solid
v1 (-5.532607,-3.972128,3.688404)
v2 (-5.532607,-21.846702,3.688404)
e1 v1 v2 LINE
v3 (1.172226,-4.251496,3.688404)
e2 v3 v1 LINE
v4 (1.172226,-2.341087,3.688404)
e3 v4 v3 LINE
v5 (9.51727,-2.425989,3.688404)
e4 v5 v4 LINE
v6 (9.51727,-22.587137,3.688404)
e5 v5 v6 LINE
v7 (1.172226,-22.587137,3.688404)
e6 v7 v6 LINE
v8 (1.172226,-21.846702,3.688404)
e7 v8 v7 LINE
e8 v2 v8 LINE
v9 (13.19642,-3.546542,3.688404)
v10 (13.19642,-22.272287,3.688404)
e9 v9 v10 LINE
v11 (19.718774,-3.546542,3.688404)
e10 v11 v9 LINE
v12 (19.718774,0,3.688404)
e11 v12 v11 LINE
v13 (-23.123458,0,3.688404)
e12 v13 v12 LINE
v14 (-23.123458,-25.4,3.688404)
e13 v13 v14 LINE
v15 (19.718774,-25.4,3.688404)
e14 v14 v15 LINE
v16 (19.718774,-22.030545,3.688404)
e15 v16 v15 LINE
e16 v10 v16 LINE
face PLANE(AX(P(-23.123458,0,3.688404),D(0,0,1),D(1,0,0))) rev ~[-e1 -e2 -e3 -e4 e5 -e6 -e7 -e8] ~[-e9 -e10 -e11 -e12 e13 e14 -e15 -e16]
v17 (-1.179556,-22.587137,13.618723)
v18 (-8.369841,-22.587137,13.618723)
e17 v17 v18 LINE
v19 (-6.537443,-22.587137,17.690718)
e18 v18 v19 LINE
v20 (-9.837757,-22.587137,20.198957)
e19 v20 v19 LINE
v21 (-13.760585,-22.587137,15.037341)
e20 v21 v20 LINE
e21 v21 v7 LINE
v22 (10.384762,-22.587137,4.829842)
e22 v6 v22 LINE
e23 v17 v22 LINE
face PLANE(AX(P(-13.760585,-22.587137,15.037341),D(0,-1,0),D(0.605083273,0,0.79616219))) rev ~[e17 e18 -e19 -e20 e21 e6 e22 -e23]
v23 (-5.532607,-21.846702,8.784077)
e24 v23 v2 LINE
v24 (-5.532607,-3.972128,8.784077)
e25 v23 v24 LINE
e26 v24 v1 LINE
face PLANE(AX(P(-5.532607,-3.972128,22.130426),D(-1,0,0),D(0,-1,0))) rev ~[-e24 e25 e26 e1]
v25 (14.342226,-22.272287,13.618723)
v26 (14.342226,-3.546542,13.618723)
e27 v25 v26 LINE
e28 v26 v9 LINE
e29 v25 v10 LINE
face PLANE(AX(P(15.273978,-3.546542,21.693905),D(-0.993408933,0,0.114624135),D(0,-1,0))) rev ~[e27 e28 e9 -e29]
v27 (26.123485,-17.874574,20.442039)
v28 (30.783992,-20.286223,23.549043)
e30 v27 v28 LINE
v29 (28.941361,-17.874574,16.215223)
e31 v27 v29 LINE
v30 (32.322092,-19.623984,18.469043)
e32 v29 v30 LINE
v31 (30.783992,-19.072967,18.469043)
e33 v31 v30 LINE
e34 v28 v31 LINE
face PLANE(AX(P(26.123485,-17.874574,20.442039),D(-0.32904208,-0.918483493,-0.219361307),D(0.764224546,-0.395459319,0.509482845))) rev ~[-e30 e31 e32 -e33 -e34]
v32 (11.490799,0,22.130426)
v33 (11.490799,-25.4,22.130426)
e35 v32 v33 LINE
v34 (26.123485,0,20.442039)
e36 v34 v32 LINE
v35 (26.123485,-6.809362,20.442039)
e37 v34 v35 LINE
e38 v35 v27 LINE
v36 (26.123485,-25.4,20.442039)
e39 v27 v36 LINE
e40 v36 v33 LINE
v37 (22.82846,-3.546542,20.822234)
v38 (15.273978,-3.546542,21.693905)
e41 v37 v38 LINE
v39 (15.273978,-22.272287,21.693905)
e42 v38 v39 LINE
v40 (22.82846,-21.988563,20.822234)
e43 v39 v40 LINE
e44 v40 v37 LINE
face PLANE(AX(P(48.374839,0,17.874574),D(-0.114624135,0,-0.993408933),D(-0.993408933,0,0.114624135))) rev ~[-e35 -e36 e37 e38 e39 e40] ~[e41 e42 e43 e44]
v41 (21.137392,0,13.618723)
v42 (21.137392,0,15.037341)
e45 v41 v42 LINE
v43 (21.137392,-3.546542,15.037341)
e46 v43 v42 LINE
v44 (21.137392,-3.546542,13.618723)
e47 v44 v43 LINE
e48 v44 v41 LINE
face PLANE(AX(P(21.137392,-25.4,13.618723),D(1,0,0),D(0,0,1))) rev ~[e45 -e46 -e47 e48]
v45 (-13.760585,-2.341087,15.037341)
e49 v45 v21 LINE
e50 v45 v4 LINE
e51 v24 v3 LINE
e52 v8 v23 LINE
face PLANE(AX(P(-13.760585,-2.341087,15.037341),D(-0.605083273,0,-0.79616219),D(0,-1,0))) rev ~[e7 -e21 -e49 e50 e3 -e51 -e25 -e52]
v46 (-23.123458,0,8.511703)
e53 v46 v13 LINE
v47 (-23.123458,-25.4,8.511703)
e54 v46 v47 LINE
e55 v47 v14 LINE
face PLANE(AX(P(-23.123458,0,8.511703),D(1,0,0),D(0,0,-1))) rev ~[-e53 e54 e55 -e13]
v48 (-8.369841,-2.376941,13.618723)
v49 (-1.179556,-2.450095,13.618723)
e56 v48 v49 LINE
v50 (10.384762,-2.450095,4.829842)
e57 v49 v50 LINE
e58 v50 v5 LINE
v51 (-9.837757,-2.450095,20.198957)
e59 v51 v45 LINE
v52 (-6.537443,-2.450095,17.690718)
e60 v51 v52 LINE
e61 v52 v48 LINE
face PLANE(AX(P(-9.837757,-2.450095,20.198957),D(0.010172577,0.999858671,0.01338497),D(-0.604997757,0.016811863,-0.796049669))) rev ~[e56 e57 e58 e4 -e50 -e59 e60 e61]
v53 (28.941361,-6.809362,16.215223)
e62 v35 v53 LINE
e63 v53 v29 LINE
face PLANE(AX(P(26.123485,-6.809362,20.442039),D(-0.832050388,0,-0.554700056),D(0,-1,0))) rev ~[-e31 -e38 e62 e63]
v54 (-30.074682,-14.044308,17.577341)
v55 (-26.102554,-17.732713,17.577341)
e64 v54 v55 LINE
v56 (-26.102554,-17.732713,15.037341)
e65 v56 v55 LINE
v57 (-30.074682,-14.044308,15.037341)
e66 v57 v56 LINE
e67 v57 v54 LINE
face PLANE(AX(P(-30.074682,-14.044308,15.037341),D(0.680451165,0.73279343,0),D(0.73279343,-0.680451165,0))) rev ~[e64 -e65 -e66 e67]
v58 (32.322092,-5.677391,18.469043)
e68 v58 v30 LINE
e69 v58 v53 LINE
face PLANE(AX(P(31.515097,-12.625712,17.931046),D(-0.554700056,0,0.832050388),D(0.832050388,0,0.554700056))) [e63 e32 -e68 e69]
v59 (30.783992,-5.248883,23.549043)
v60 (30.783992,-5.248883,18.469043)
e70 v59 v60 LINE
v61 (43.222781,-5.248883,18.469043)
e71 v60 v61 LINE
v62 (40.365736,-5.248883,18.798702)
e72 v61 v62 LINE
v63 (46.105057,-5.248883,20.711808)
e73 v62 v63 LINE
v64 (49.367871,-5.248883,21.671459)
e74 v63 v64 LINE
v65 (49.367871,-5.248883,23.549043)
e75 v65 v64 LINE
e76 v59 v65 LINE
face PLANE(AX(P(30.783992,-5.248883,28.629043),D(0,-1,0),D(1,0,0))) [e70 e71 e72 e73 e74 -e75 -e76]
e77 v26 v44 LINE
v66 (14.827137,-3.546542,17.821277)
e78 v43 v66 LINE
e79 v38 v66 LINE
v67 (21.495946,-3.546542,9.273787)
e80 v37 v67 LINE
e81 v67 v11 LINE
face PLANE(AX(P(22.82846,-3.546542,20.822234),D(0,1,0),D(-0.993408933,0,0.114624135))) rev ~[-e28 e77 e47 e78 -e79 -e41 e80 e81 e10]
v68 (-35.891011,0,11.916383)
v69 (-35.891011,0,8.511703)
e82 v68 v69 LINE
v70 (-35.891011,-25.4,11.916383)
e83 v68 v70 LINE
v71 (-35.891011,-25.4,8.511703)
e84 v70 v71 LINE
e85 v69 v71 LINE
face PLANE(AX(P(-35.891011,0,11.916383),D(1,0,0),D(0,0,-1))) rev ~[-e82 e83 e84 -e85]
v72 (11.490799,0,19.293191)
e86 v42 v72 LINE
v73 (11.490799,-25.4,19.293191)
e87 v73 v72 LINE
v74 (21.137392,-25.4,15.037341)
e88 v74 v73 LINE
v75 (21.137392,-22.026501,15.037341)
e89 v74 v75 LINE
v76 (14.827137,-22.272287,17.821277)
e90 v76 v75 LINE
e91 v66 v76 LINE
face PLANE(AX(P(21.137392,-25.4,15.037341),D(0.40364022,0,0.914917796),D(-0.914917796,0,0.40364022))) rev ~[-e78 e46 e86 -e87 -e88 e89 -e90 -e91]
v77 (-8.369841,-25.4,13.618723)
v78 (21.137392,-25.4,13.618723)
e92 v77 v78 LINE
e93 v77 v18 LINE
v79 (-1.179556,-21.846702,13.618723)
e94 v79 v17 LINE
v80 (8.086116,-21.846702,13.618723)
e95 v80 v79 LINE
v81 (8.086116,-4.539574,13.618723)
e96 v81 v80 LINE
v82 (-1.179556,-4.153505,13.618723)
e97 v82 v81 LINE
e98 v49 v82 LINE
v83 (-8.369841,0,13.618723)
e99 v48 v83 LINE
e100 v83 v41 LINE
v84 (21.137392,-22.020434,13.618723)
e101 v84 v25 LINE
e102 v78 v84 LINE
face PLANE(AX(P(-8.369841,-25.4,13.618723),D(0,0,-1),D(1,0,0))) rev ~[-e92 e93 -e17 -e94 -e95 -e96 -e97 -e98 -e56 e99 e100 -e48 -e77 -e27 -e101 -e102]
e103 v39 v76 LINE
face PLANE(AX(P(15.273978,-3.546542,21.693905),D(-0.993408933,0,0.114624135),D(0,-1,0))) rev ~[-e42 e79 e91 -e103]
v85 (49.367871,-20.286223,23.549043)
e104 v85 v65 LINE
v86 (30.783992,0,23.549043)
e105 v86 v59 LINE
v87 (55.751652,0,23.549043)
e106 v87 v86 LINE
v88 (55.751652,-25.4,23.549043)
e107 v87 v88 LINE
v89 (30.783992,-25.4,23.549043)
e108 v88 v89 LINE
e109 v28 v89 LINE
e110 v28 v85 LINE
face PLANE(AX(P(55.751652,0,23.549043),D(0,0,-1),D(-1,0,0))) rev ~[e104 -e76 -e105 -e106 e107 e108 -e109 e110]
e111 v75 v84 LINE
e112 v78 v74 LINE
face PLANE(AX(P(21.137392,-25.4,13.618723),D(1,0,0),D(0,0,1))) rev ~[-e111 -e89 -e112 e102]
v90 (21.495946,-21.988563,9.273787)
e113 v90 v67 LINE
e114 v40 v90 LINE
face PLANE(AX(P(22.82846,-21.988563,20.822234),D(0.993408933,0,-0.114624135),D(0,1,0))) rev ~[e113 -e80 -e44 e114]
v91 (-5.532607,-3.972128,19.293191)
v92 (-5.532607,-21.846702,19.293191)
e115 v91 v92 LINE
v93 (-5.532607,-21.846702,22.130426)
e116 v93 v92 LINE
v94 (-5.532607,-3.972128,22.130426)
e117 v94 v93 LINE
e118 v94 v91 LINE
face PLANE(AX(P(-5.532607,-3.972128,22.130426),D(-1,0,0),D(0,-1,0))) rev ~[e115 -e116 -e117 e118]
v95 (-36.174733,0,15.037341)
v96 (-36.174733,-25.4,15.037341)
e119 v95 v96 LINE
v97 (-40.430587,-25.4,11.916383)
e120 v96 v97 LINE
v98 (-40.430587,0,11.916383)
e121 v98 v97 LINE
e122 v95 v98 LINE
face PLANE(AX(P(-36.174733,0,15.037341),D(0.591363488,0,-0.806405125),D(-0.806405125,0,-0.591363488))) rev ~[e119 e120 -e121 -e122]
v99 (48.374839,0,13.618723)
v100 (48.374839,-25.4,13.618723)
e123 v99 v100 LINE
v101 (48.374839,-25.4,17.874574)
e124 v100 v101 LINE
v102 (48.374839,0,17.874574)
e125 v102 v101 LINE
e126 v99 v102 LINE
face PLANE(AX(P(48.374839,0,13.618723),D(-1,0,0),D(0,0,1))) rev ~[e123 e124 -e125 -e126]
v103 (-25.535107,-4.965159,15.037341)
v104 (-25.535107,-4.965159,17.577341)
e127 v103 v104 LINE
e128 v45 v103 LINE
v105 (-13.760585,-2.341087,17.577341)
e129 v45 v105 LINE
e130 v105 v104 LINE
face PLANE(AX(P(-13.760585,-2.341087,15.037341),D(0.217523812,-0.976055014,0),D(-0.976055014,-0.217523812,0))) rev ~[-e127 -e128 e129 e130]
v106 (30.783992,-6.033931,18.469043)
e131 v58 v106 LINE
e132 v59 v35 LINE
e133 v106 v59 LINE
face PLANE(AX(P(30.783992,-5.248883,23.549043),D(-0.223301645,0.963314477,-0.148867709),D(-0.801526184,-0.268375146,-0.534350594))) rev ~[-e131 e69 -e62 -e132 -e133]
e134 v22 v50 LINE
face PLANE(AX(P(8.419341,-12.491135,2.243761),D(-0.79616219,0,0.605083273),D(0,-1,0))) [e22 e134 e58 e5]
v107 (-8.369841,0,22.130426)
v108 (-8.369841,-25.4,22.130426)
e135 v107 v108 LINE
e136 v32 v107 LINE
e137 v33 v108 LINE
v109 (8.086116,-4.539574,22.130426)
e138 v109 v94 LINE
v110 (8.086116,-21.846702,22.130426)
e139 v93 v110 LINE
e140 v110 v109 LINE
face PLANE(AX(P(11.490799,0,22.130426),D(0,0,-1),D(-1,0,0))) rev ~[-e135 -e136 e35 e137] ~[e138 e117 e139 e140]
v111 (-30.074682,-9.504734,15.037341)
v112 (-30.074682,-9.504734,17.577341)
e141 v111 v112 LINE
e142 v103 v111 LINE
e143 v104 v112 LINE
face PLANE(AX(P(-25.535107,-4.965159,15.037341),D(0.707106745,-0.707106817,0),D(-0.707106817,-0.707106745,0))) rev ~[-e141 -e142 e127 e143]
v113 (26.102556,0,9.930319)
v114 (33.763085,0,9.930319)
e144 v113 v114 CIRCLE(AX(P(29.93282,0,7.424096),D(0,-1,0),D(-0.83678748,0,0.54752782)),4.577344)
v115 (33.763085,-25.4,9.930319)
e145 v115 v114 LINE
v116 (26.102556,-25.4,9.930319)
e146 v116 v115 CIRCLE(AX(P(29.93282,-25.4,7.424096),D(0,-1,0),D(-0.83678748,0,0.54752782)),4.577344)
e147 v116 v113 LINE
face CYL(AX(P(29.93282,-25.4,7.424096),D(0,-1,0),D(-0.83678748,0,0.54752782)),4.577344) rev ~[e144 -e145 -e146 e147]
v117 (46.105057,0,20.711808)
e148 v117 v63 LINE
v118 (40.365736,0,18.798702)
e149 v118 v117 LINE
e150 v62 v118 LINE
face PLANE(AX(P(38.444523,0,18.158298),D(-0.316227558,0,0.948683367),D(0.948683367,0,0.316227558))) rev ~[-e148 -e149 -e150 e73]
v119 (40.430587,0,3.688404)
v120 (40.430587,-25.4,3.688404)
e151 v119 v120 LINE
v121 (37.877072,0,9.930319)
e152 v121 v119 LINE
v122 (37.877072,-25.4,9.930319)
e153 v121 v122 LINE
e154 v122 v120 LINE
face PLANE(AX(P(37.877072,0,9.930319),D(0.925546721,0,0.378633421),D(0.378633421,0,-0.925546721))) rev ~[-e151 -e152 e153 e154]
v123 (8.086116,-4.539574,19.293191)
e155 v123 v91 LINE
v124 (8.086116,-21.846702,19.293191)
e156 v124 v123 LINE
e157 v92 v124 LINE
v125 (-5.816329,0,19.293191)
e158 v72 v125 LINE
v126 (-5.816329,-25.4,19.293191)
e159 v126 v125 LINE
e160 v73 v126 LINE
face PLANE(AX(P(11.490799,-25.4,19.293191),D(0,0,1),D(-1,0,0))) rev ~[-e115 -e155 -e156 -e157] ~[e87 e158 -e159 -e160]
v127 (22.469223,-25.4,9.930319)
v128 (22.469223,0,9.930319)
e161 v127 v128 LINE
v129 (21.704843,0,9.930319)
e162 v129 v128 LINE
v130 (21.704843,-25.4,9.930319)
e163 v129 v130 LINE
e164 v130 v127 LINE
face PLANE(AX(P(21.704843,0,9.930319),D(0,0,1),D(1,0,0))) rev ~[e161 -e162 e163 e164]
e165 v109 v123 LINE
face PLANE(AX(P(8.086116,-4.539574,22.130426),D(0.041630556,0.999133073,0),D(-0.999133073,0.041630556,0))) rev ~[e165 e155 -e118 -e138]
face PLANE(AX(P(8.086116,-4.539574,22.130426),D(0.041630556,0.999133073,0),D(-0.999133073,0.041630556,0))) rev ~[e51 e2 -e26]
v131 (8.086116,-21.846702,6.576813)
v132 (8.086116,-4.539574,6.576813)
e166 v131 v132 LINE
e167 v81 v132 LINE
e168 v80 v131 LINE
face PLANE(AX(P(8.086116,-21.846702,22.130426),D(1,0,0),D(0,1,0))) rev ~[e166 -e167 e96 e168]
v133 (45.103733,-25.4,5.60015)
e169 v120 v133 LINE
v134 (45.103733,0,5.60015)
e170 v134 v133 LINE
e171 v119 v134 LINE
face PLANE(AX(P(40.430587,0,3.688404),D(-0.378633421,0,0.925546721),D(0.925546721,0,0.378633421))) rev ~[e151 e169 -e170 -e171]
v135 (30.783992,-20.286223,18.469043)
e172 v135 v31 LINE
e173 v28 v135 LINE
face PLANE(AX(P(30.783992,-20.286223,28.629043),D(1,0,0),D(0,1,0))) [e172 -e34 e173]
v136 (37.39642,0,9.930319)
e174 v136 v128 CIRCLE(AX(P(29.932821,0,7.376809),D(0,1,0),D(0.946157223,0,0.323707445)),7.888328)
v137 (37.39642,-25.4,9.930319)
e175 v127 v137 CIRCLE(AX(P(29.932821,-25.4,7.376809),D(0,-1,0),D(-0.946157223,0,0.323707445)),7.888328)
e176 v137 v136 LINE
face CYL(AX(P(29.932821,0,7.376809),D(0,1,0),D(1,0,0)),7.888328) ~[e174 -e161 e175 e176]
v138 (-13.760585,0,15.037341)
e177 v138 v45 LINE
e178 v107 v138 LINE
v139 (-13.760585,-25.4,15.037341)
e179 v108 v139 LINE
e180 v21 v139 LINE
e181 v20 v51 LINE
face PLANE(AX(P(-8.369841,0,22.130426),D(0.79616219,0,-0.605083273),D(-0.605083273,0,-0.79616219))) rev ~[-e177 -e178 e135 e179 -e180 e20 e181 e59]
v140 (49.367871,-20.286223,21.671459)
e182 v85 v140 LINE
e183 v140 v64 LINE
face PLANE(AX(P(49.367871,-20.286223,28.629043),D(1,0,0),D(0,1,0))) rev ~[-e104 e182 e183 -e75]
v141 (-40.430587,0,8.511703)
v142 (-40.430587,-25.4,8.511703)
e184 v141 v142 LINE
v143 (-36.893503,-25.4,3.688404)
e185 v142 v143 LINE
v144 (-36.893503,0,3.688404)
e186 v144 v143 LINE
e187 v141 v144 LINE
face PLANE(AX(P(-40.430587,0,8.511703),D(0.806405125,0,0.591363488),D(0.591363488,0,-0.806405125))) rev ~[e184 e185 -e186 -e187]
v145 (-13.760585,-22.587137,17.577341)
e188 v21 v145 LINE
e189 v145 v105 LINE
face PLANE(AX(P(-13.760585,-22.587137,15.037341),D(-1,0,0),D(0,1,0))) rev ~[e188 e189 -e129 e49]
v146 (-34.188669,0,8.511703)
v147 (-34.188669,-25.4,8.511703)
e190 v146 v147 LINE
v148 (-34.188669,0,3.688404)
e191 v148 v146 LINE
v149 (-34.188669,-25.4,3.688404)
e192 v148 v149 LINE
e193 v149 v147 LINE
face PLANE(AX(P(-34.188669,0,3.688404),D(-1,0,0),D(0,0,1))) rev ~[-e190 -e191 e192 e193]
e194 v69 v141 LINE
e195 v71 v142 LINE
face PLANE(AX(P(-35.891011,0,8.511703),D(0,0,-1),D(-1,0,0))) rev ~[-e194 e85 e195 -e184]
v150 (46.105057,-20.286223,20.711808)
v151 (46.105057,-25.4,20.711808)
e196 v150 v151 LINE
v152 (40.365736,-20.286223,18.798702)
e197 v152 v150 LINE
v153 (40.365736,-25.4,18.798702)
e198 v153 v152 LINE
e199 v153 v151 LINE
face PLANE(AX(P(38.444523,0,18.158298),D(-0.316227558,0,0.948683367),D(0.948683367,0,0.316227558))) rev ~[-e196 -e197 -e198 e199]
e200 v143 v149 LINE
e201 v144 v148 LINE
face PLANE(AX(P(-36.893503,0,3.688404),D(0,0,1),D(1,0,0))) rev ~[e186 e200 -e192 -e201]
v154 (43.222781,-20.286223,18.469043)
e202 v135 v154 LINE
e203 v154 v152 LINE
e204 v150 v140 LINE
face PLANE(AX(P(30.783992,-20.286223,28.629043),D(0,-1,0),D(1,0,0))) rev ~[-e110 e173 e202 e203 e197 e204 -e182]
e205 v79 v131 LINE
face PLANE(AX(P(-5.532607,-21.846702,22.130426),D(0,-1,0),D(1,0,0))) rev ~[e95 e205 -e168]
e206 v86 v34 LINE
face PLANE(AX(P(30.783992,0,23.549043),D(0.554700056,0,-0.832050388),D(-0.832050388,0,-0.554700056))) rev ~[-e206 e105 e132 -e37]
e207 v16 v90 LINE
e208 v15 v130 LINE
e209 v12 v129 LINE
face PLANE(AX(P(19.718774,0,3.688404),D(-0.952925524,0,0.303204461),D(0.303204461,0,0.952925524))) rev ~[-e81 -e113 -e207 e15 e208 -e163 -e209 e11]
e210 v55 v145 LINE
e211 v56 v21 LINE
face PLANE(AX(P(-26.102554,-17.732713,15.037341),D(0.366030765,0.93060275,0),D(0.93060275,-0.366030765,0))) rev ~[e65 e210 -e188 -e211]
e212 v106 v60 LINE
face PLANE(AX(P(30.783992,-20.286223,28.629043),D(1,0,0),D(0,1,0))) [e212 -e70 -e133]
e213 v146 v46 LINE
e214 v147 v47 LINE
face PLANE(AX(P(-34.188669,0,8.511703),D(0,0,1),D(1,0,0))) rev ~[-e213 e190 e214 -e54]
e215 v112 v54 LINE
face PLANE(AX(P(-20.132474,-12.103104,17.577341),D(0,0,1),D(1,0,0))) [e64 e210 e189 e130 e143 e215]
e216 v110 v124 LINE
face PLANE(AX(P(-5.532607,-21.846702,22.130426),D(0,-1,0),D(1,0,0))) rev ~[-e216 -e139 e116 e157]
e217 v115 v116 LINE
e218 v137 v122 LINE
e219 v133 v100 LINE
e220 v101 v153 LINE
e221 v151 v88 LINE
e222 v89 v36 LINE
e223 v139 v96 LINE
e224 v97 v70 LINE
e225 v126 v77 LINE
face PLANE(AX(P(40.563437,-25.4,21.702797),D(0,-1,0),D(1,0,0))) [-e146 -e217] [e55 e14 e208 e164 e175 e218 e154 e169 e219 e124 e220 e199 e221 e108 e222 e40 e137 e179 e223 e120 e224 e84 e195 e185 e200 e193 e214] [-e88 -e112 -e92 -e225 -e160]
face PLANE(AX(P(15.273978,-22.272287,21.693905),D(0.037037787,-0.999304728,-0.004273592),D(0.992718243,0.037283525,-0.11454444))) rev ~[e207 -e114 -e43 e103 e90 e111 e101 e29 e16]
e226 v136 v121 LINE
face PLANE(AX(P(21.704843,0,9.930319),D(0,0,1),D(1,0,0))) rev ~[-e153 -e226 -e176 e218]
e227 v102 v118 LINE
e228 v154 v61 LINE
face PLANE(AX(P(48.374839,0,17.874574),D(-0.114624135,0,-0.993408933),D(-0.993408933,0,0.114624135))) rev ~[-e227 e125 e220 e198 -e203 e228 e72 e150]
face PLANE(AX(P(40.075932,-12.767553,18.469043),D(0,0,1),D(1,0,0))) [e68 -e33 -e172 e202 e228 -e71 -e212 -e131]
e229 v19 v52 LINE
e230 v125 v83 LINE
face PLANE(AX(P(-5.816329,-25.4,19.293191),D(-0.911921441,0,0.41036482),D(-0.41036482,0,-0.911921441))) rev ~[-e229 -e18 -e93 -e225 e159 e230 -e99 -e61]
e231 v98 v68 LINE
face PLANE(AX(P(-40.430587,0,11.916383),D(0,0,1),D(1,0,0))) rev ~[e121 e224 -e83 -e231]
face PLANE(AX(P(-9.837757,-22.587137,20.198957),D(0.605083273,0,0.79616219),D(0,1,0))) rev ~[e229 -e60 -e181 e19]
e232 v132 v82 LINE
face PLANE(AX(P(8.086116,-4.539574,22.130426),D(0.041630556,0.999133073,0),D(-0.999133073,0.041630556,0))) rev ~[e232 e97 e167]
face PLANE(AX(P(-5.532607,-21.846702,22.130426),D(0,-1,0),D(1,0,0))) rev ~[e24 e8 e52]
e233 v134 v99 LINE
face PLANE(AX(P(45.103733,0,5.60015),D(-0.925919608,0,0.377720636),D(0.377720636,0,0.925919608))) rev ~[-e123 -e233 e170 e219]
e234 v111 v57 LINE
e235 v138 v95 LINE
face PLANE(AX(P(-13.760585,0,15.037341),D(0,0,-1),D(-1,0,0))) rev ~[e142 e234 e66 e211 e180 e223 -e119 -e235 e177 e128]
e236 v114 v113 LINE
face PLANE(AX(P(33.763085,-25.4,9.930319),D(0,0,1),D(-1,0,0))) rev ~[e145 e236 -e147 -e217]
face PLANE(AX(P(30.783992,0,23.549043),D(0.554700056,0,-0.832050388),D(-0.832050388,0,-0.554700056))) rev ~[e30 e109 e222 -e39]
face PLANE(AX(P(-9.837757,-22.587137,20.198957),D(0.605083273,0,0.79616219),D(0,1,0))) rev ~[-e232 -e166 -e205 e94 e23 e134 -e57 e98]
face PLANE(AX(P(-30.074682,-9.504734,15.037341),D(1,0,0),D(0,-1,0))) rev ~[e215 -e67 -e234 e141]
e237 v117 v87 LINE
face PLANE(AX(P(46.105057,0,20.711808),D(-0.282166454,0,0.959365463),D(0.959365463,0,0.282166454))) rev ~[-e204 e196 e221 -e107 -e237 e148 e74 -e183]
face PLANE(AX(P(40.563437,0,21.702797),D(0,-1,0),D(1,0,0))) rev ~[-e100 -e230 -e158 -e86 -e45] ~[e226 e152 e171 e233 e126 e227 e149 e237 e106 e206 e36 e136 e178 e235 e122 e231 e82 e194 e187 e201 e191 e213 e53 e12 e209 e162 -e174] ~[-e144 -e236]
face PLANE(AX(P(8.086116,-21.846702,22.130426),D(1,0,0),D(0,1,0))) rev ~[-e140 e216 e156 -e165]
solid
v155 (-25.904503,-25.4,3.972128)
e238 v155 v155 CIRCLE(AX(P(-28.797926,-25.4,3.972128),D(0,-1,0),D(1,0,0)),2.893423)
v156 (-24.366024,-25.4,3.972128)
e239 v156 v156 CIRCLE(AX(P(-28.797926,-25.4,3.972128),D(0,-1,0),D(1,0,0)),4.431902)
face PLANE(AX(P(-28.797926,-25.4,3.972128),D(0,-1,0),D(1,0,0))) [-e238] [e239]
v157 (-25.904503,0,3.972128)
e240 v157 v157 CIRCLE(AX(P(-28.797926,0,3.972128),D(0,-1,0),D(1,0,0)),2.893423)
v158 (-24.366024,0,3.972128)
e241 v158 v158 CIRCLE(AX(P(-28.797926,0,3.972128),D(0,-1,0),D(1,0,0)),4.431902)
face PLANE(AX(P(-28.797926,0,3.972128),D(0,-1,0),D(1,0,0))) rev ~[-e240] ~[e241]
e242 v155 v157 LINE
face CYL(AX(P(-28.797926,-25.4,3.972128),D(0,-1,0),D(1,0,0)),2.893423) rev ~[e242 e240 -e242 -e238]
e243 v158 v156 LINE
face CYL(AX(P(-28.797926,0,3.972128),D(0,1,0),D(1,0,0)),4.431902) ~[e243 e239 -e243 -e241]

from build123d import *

# Parameters (mm, degrees)
F0_R      = 4.4319021296
F1_DEPTH  = 25.4
F0_R_2    = 7.8883279383
F3_DEPTH  = 25.4
F5_DEPTH  = 25.4
F7_DEPTH  = 25.4
F9_DEPTH  = 25.4
F11_DEPTH = 25.4
F13_DEPTH = 25.4
F14_R     = 2.8934233722
F15_DEPTH = 25.4
F17_DEPTH = 2.54
F18_W     = 18.5838788748
F18_H     = 15.0373396464
F19_DEPTH = 5.08
F20_DEPTH = 10.16
F22_DEPTH = 5.08
F24_DEPTH = 25.4


with BuildPart() as f1:
    # F0 (on Front) → F1 (new body)
    with BuildSketch(Plane.XZ):
        with Locations((-28.7979263812, 3.972127568)):
            Circle(F0_R)
    extrude(amount=F1_DEPTH)

    # F14 (on face) → F15 (cut)
    with BuildSketch(Plane.XZ.offset(25.4)):
        with Locations((-28.7979263812, 3.972127568)):
            Circle(F14_R)
    extrude(amount=-F15_DEPTH, mode=Mode.SUBTRACT)


with BuildPart() as f1b:
    # F0 (on Front) → F1, piece 2 (new body)
    with BuildSketch(Plane.XZ):
        with Locations((29.9328211695, 7.3768086731)):
            Circle(F0_R_2)
    extrude(amount=F1_DEPTH)

    # F2 (on Front) → F3 (join)
    with BuildSketch(Plane.XZ):
        Polygon((-23.1234580278, 8.5117025301), (-23.1234580278, 3.6884043366), (19.718773663, 3.6884043366), (21.7048432678, 9.9303191528), (37.8770716488, 9.9303191528), (40.4305867851, 3.6884043366), (45.1037334939, 5.6001495632), (48.3748391271, 13.6187234893), (48.3748391271, 17.8745742887), (11.4907994866, 22.1304260194), (-8.3698406816, 22.1304260194), (-13.7605853379, 15.0373410434), (-36.1747331917, 15.0373410434), (-40.4305867851, 11.9163831696), (-35.8910113573, 11.9163831696), (-35.8910113573, 8.5117025301), (-40.4305867851, 8.5117025301), (-36.8935030616, 3.6884043366), (-34.1886691749, 3.6884043366), (-34.1886691749, 8.5117025301), align=None)
    extrude(amount=F3_DEPTH)

    # F4 (on Front) → F5 (join)
    with BuildSketch(Plane.XZ):
        Polygon((30.7839922607, 23.5490426421), (25.6769694388, 20.1443620026), (38.4445227683, 18.1582979858), (46.1050570011, 20.7118075341), (55.7516515255, 23.5490426421), align=None)
    extrude(amount=F5_DEPTH)

    # F6 (on face) → F7 (cut)
    with BuildSketch(Plane.XZ.offset(25.4)):
        Polygon((-5.8163292706, 19.2931909114), (-8.3698406816, 13.6187234893), (21.1373921484, 13.6187234893), (21.1373921484, 15.0373410434), (11.4907994866, 19.2931909114), align=None)
    extrude(amount=-F7_DEPTH, mode=Mode.SUBTRACT)

    # F8 (on face) → F9 (cut)
    with BuildSketch(Plane(origin=(-15.9666356705, 0, 12.1346432773), x_dir=(0, -1, 0), z_dir=(-0.7961621901, 0, 0.6050832728))):
        Polygon((22.5871372968, 10.1289832965), (2.4500952568, 10.1289832965), (2.3410865106, 3.6458623659), (22.5871372968, 3.6458623659), align=None)
    extrude(amount=-F9_DEPTH, mode=Mode.SUBTRACT)

    # F10 (on face) → F11 (cut)
    with BuildSketch(Plane(origin=(2.6709355753, 0, 23.1481028644), x_dir=(0.9934089328, 0, -0.1146241346), z_dir=(0.1146241346, 0, 0.9934089328))):
        Polygon((12.6866614446, -3.5465420224), (12.6866614446, -22.2722869366), (20.2912651002, -21.9885632396), (20.2912651002, -3.5465420224), align=None)
    extrude(amount=-F11_DEPTH, mode=Mode.SUBTRACT)

    # F12 (on face) → F13 (cut)
    with BuildSketch(Plane.XY.offset(22.1304260194)):
        Polygon((8.0861160532, -4.5395744964), (-5.5326065049, -3.972127568), (-5.5326065049, -21.8467023224), (8.0861160532, -21.8467023224), align=None)
    extrude(amount=-F13_DEPTH, mode=Mode.SUBTRACT)

    # F16 (on face) → F17 (join)
    with BuildSketch(Plane.XY.offset(15.0373410434)):
        Polygon((-13.7605853379, -22.5871372968), (-13.7605853379, -2.3410865106), (-25.5351066589, -4.9651586451), (-30.0746820867, -9.5047336072), (-30.0746820867, -14.0443081036), (-26.1025540531, -17.7327133715), align=None)
    extrude(amount=F17_DEPTH)

    # F18 (on face) → F19 (join)
    with BuildSketch(Plane.XY.offset(23.5490426421)):
        with Locations((40.0759316981, -12.7675530966)):
            Rectangle(F18_W, F18_H)
    extrude(amount=F19_DEPTH)

    # F20 (cut): a face of the model
    f20_faces = [f1b.faces().sort_by_distance(p)[0] for p in [
        (40.0759316981, -12.7675530966, 28.6290426421),
    ]]
    extrude(f20_faces, amount=-F20_DEPTH, mode=Mode.SUBTRACT)

    # F21 (on face) → F22 (cut)
    with BuildSketch(Plane(origin=(-1.3967945518, 0, 2.0951925918), x_dir=(0.8320503877, 0, 0.5547000562), z_dir=(-0.5547000562, 0, 0.8320503877))):
        Polygon((38.676487972, -5.2488832735), (33.0752558091, -6.8093617447), (33.0752558091, -17.8745742887), (38.676487972, -20.2862229198), align=None)
    extrude(amount=-F22_DEPTH, mode=Mode.SUBTRACT)

    # F23 (on face) → F24 (cut)
    with BuildSketch(Plane.XZ.offset(25.4)):
        with BuildLine():
            Line((33.7630845606, 9.9303191528), (26.1025559157, 9.9303191528))
            ThreePointArc((26.1025559157, 9.9303191528), (29.9328202382, 2.8467516557), (33.7630845606, 9.9303191528))
        make_face()
    extrude(amount=-F24_DEPTH, mode=Mode.SUBTRACT)


solid = Compound([f1.part, f1b.part])
